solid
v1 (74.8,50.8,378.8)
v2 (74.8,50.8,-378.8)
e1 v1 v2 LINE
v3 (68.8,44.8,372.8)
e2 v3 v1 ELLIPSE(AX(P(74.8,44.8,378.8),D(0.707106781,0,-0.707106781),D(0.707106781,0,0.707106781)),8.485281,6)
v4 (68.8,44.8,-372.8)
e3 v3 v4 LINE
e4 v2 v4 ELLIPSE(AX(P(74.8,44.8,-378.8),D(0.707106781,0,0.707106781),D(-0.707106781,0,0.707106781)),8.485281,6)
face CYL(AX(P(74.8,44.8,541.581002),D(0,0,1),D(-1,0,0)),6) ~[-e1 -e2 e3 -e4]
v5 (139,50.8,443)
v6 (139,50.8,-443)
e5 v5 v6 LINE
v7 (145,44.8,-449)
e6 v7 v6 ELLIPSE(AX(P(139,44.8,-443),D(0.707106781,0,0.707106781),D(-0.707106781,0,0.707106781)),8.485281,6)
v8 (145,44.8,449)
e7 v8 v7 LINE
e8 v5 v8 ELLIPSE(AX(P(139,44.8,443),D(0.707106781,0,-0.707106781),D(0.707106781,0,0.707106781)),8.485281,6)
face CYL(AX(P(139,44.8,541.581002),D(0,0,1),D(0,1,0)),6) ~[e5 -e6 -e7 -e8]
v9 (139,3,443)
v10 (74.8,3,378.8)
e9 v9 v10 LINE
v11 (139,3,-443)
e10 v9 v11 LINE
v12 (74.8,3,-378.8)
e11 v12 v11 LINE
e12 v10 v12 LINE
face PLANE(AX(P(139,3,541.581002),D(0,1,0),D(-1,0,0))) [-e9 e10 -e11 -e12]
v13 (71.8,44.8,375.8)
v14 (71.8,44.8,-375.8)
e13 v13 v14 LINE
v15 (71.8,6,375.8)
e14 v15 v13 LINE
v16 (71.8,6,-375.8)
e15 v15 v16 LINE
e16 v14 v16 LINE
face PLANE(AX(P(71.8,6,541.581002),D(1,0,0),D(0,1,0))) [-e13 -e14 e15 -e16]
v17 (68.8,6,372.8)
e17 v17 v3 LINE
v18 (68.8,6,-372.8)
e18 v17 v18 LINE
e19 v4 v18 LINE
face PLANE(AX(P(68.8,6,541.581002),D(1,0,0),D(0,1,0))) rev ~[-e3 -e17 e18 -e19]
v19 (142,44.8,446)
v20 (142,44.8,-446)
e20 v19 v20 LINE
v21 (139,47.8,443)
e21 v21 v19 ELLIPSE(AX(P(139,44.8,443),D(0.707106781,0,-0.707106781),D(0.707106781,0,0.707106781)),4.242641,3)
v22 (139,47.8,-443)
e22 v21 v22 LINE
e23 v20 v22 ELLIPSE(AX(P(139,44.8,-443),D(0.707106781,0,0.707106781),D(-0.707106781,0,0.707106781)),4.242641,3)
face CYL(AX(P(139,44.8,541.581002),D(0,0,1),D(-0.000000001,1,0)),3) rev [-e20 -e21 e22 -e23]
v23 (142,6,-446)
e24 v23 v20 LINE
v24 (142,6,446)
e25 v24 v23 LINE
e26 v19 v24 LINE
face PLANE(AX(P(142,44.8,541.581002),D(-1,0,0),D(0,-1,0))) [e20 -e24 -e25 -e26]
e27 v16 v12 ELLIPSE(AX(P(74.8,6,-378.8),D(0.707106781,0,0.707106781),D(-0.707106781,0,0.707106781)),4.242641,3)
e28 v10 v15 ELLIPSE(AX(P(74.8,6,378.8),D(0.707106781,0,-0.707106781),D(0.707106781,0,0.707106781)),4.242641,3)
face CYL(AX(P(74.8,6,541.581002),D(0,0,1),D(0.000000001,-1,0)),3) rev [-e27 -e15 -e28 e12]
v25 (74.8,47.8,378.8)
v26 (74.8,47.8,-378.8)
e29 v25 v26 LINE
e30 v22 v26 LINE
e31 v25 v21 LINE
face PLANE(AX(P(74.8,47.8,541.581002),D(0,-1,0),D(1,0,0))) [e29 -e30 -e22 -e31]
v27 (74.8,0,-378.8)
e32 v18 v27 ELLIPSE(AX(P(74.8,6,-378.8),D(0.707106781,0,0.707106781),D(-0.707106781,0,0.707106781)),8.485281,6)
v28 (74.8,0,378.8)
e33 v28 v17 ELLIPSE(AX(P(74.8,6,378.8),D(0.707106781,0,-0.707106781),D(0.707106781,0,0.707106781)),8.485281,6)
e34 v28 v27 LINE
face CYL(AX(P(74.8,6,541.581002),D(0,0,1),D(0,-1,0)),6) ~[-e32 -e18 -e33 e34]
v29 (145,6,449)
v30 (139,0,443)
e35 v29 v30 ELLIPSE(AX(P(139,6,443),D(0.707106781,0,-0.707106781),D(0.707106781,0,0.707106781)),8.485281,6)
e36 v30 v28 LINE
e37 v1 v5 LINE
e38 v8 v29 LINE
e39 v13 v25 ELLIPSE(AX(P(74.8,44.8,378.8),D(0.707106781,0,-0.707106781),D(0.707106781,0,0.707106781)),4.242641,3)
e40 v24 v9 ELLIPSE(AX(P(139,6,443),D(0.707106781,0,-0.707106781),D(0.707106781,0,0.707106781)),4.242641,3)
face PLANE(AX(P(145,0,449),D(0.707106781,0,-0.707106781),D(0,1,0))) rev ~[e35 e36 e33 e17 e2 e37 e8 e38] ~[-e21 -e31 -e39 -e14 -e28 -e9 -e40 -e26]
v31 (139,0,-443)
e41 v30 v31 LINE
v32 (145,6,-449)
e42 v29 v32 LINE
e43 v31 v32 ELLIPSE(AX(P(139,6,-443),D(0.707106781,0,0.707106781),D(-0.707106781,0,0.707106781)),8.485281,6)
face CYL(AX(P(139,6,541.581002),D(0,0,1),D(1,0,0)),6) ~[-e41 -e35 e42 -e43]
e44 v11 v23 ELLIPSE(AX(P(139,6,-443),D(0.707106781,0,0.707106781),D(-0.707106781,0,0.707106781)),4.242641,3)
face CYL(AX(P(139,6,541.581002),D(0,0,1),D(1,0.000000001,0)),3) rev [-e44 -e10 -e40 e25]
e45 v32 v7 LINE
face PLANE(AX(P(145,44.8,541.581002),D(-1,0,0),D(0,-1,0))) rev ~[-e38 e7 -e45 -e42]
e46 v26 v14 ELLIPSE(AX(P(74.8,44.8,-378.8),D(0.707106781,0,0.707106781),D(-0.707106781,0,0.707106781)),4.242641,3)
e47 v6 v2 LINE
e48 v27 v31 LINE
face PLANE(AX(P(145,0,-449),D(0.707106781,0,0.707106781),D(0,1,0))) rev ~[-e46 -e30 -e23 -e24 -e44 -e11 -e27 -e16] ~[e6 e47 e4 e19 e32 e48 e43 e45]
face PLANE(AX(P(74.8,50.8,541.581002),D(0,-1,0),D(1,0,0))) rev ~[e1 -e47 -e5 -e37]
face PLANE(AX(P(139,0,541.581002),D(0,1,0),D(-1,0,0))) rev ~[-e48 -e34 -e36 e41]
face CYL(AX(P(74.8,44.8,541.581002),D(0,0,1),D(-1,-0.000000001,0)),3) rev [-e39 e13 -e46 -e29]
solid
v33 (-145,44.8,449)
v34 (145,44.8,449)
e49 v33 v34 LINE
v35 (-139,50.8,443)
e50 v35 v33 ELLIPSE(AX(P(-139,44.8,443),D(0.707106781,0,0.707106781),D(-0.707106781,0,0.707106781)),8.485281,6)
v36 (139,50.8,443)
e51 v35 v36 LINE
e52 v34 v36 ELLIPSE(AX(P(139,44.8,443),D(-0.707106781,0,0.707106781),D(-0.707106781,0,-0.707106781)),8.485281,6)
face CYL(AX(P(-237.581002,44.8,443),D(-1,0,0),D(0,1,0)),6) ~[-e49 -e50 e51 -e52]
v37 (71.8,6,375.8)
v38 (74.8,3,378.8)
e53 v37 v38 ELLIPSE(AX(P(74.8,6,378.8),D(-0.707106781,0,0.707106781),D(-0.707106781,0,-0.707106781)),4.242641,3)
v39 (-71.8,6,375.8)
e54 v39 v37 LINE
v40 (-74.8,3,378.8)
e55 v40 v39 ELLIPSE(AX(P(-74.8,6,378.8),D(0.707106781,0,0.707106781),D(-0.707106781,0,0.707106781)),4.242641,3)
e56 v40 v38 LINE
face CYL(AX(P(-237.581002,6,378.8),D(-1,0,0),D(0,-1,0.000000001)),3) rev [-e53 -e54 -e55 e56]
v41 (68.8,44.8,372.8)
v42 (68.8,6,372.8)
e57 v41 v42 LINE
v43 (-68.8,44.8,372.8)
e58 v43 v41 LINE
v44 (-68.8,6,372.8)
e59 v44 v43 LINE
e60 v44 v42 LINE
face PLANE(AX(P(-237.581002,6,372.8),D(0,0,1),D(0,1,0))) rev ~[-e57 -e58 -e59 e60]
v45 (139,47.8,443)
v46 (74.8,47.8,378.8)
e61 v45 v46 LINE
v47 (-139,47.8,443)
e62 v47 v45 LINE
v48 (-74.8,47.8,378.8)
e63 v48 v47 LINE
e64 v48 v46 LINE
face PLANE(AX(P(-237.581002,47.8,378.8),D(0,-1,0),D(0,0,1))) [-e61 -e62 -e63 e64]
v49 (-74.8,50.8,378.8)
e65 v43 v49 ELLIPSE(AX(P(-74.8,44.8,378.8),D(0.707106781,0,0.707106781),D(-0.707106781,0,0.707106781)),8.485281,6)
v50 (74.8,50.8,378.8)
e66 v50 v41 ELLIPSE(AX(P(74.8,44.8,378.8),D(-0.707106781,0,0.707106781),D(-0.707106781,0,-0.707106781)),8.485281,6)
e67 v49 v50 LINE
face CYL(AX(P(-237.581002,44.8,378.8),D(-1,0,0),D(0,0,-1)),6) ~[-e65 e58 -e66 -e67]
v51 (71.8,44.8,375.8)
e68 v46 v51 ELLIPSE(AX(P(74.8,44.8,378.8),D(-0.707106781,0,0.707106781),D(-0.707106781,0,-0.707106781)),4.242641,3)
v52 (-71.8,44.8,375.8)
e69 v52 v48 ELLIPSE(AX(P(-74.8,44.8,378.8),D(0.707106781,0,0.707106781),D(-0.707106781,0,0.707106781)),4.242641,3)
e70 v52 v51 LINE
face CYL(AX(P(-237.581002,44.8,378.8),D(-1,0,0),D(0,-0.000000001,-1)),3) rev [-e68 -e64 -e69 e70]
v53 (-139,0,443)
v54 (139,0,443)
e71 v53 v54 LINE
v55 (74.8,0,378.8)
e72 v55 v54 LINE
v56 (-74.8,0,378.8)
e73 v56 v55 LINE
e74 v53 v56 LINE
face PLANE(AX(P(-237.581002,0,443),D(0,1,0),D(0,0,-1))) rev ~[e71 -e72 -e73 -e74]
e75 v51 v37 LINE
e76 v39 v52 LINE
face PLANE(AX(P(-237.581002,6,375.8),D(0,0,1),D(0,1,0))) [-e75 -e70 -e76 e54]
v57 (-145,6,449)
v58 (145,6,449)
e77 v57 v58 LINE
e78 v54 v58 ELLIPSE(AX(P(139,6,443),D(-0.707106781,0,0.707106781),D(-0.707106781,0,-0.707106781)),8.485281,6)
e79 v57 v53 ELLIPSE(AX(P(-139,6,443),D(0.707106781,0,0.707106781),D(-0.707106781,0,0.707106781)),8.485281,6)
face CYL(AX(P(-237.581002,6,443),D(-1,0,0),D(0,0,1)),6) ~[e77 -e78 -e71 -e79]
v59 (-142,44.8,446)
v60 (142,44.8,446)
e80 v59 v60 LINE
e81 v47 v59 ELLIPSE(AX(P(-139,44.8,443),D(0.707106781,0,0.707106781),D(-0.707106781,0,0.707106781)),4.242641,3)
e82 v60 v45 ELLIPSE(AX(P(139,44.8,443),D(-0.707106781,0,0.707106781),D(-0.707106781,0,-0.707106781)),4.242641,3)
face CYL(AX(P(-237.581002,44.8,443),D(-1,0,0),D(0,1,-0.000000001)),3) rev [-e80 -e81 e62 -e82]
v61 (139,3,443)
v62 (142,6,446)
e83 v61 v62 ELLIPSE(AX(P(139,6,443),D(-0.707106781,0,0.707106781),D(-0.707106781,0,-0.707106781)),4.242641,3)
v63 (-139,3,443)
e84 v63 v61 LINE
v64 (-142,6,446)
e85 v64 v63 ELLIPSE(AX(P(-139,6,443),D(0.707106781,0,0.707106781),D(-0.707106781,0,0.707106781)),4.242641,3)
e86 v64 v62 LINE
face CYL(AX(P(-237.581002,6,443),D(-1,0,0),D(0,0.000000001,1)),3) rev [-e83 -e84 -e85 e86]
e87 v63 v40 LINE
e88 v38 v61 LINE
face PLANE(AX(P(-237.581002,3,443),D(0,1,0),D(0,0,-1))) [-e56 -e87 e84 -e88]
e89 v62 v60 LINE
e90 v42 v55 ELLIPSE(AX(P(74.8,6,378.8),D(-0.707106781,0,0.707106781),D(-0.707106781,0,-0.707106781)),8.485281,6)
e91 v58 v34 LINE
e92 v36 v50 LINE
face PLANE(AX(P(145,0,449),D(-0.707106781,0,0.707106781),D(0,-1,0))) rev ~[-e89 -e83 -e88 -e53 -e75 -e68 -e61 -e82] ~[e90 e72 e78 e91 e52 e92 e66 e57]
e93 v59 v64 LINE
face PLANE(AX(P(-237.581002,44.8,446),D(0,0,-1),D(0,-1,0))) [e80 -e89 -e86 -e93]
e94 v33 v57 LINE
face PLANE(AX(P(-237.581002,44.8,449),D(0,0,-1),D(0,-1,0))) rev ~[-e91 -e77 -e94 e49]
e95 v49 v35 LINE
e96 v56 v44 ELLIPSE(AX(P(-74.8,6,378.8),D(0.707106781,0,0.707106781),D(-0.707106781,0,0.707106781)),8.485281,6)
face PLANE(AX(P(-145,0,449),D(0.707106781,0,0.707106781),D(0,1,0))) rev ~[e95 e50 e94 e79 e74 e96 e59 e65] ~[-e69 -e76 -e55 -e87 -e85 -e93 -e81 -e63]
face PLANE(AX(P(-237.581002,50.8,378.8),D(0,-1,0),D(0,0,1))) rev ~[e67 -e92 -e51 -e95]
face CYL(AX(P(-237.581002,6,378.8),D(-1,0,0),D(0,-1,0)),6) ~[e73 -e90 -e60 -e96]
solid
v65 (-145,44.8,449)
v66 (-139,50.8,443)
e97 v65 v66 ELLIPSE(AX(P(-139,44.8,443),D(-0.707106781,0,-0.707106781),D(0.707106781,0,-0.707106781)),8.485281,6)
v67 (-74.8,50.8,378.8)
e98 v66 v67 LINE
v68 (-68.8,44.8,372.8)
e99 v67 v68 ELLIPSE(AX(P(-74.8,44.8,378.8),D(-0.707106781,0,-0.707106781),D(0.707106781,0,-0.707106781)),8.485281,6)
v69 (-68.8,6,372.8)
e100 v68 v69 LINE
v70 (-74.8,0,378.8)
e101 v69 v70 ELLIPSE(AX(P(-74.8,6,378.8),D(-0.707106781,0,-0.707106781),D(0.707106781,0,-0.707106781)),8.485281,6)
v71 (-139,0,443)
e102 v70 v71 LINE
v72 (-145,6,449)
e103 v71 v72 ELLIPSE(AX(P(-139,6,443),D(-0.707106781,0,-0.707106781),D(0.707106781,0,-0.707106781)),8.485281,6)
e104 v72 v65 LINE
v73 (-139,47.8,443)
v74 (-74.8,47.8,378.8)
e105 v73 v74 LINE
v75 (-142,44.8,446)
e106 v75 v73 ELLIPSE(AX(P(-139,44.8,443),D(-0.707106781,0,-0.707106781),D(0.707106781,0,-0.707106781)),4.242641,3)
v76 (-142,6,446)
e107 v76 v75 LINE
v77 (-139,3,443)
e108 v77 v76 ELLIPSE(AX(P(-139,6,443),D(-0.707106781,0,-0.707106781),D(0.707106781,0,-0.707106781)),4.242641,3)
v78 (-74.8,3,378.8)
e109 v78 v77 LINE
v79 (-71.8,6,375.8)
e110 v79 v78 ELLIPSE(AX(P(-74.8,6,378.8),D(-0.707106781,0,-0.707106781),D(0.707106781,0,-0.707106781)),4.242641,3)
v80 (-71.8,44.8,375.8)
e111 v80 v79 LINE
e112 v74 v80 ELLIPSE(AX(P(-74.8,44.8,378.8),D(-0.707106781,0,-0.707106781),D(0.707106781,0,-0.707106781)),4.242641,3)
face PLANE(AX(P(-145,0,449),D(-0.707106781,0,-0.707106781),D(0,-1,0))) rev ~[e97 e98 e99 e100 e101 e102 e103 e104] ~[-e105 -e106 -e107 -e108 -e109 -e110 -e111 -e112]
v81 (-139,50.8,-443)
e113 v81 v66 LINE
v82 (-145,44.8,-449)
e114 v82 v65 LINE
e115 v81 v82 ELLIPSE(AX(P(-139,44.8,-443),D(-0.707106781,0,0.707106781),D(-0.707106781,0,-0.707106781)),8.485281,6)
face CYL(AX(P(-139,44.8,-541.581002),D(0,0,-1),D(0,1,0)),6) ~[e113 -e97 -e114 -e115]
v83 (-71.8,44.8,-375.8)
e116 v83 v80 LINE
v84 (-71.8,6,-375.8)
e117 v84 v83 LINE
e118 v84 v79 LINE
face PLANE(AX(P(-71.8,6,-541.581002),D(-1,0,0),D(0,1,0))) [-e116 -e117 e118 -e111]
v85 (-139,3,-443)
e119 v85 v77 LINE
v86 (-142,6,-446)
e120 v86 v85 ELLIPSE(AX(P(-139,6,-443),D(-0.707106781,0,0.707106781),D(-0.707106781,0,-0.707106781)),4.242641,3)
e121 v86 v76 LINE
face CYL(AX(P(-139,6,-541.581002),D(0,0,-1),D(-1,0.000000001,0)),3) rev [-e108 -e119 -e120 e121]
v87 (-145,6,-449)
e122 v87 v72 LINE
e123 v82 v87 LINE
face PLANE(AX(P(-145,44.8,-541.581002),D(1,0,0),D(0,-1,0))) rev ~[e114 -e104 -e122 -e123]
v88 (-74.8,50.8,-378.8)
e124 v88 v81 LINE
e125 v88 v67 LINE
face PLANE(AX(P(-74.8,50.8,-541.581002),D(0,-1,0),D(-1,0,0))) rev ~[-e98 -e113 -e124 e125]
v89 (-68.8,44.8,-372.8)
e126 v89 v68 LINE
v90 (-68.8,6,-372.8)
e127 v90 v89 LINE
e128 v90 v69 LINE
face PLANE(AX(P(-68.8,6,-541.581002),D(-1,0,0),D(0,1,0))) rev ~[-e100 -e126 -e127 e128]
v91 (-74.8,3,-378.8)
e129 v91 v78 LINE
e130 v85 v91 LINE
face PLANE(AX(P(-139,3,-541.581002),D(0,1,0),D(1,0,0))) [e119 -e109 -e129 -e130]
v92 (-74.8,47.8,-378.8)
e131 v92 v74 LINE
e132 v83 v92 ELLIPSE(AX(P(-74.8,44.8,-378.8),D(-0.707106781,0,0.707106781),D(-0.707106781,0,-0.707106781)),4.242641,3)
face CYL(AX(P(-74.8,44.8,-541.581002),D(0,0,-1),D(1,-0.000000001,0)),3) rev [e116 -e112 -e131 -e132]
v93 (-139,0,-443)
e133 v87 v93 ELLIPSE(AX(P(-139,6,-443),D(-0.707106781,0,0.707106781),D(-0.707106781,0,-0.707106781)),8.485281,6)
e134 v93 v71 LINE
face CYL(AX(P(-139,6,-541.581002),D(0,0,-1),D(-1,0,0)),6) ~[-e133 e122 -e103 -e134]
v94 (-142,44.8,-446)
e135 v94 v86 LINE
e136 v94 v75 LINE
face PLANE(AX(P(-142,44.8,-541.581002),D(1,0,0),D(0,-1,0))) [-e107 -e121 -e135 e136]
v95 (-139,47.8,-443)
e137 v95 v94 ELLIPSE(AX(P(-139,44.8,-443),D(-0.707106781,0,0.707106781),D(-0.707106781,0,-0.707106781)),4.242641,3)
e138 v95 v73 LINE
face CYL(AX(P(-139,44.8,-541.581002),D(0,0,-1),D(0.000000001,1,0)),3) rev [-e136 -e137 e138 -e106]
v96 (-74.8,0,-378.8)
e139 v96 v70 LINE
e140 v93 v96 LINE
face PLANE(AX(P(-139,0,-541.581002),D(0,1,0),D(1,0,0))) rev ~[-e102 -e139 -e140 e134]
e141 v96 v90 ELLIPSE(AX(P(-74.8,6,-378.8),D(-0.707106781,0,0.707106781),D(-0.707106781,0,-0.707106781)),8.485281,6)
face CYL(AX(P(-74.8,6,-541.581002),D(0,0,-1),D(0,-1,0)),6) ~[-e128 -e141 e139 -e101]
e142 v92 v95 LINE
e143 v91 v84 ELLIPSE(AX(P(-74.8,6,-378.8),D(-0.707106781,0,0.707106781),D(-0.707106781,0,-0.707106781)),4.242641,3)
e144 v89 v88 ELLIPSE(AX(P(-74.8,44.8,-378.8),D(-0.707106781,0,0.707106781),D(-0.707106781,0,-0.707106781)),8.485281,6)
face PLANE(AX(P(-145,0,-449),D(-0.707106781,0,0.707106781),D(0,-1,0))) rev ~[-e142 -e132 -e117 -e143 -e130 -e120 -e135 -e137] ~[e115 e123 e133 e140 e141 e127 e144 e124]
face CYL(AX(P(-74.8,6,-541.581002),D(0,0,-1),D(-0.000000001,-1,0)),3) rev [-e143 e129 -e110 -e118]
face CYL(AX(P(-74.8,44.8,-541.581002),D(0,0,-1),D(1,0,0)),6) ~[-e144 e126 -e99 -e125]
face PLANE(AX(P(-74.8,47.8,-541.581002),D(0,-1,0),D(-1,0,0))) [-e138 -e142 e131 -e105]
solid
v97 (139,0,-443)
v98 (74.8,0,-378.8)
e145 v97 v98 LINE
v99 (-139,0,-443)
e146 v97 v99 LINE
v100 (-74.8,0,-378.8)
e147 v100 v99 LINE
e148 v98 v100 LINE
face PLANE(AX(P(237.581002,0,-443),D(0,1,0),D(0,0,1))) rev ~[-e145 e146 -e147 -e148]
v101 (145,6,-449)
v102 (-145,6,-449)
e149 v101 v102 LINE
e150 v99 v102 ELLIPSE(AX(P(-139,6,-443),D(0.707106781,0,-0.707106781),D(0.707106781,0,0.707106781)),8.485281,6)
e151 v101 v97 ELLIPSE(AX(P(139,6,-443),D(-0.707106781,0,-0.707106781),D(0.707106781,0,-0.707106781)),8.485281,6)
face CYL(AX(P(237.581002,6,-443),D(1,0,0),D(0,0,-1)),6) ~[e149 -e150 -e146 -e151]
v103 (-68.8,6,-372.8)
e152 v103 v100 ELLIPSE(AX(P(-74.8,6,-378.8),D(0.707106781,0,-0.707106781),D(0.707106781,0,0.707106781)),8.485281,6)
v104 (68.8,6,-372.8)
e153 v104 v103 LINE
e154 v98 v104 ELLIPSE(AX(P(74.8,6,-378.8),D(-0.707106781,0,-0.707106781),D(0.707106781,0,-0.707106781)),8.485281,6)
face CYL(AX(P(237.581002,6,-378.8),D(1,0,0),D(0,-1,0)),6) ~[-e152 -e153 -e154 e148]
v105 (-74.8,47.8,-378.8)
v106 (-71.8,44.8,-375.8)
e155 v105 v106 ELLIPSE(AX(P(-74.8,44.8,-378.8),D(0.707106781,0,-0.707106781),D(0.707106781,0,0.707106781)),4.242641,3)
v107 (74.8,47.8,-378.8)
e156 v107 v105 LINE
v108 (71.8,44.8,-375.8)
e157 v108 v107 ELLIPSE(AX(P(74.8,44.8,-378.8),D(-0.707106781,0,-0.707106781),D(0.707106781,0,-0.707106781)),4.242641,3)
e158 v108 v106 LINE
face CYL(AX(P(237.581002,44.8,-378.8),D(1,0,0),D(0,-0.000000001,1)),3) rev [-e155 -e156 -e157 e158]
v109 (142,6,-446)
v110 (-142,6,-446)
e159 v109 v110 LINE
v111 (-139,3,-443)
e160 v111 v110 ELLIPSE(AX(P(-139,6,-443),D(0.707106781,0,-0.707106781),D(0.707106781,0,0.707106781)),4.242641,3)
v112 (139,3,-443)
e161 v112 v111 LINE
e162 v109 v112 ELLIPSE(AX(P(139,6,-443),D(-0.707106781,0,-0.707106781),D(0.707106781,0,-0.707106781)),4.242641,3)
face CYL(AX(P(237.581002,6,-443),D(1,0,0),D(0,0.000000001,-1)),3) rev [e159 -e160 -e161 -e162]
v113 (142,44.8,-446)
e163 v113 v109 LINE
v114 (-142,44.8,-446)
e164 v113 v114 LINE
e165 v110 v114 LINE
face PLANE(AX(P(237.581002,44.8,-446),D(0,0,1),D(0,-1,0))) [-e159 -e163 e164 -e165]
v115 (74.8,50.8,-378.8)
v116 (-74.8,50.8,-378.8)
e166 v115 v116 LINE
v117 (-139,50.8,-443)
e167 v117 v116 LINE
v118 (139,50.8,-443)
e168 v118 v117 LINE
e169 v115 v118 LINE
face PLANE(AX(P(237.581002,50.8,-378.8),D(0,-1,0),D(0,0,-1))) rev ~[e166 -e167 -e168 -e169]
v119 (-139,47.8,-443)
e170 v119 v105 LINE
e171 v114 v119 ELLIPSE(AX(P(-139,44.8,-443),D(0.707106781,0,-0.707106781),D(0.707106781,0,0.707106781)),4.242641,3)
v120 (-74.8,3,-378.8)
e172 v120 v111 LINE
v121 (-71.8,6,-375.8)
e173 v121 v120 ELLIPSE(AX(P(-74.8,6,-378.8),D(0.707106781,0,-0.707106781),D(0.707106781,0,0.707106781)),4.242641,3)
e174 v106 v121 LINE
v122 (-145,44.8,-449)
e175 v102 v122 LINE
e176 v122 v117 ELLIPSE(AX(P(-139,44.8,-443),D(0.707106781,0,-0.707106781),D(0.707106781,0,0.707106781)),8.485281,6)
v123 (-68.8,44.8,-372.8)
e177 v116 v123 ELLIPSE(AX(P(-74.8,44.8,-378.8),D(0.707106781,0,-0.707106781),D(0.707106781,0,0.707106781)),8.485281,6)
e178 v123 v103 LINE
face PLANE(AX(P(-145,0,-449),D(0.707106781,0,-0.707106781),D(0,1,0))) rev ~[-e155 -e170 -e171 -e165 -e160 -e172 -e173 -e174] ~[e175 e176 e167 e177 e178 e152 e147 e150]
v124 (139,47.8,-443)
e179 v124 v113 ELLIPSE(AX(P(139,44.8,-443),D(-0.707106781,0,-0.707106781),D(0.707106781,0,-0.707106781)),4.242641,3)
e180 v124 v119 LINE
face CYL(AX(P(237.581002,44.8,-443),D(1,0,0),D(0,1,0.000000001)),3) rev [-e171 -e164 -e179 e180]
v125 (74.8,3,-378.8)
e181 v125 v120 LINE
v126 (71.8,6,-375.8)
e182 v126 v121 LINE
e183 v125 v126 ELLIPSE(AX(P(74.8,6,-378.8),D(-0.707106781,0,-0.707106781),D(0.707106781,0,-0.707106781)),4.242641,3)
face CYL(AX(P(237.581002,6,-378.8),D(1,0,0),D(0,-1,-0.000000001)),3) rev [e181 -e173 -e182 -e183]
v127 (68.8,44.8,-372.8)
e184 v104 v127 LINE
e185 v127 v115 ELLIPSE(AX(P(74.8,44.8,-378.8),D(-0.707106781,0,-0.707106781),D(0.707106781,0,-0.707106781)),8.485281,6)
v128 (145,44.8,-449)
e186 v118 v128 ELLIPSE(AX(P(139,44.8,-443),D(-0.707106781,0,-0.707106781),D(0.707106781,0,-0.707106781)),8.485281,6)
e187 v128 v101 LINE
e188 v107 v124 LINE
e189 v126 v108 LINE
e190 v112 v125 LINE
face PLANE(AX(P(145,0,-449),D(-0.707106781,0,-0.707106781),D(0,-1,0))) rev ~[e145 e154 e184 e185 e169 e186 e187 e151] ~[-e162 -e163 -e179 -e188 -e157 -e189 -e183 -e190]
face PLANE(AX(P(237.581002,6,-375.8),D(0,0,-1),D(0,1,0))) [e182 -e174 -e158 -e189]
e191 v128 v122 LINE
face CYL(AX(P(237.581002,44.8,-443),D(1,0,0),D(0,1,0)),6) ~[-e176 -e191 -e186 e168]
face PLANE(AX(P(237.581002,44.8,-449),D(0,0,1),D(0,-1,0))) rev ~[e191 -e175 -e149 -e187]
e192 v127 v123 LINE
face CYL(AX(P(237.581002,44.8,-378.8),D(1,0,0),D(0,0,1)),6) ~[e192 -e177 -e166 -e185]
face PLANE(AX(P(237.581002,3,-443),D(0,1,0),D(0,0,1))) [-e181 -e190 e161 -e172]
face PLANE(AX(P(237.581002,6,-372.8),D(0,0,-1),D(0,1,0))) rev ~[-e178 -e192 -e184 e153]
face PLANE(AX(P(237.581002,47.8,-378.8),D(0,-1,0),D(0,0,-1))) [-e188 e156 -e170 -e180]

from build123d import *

# Parameters (mm, degrees)
TUBO_RECTANGULAR_3_X_2_X_0_25_1_DEPTH      = 990.581002397
TUBO_RECTANGULAR_3_X_2_X_0_25_1_DEPTH_BACK = 92.581002397
TUBO_RECTANGULAR_3_X_2_X_0_25_1_2_DEPTH    = 475.162004794
TUBO_RECTANGULAR_3_X_2_X_0_25_1_3_DEPTH    = 1083.162004794
TUBO_RECTANGULAR_3_X_2_X_0_25_1_4_DEPTH    = 475.162004794


with BuildPart() as part:
    # Sketch1 → Tubo rectangular 3 X 2 X 0.25(1) (new, two sides: drawn at the far end of the back side and taken through both)
    with BuildSketch(Plane(origin=(-106.9, 25.4, -449), x_dir=(1, 0, 0), z_dir=(0, 0, 1)).offset(-TUBO_RECTANGULAR_3_X_2_X_0_25_1_DEPTH_BACK)):
        with BuildLine():
            Line((-32.1, -25.4), (32.1, -25.4))
            ThreePointArc((32.1, -25.4), (36.342640687, -23.642640687), (38.1, -19.4))
            Line((38.1, -19.4), (38.1, 19.4))
            ThreePointArc((38.1, 19.4), (36.342640687, 23.642640687), (32.1, 25.4))
            Line((32.1, 25.4), (-32.1, 25.4))
            ThreePointArc((-32.1, 25.4), (-36.342640687, 23.642640687), (-38.1, 19.4))
            Line((-38.1, 19.4), (-38.1, -19.4))
            ThreePointArc((-38.1, -19.4), (-36.342640687, -23.642640687), (-32.1, -25.4))
        make_face()
        with BuildLine():
            Line((-32.1, -22.4), (32.1, -22.4))
            ThreePointArc((32.1, -22.4), (34.221320344, -21.521320344), (35.1, -19.4))
            Line((35.1, -19.4), (35.1, 19.4))
            ThreePointArc((35.1, 19.4), (34.221320344, 21.521320344), (32.1, 22.4))
            Line((32.1, 22.4), (-32.1, 22.4))
            ThreePointArc((-32.1, 22.4), (-34.221320344, 21.521320344), (-35.1, 19.4))
            Line((-35.1, 19.4), (-35.1, -19.4))
            ThreePointArc((-35.1, -19.4), (-34.221320344, -21.521320344), (-32.1, -22.4))
        make_face(mode=Mode.SUBTRACT)
    extrude(amount=TUBO_RECTANGULAR_3_X_2_X_0_25_1_DEPTH + TUBO_RECTANGULAR_3_X_2_X_0_25_1_DEPTH_BACK)

    # Tubo rectangular 3 X 2 X 0.25(1) mitre 1
    split(bisect_by=Plane(origin=(-145, 0, -449), x_dir=(0, -1, 0), z_dir=(-0.707106781, 0, 0.707106781)), keep=Keep.TOP)

    # Tubo rectangular 3 X 2 X 0.25(1) mitre 2
    split(bisect_by=Plane(origin=(-145, 0, 449), x_dir=(0, -1, 0), z_dir=(-0.707106781, 0, -0.707106781)), keep=Keep.TOP)


with BuildPart() as body_2:
    # Sketch1 on segment 2 (carried to segment 2) → Tubo rectangular 3 X 2 X 0.25_1 2 (new body)
    with BuildSketch(Plane(origin=(-237.581002397, 25.4, 410.9), x_dir=(0, 0, -1), z_dir=(1, 0, 0))):
        with BuildLine():
            Line((-32.1, -25.4), (32.1, -25.4))
            ThreePointArc((32.1, -25.4), (36.342640687, -23.642640687), (38.1, -19.4))
            Line((38.1, -19.4), (38.1, 19.4))
            ThreePointArc((38.1, 19.4), (36.342640687, 23.642640687), (32.1, 25.4))
            Line((32.1, 25.4), (-32.1, 25.4))
            ThreePointArc((-32.1, 25.4), (-36.342640687, 23.642640687), (-38.1, 19.4))
            Line((-38.1, 19.4), (-38.1, -19.4))
            ThreePointArc((-38.1, -19.4), (-36.342640687, -23.642640687), (-32.1, -25.4))
        make_face()
        with BuildLine():
            Line((-32.1, -22.4), (32.1, -22.4))
            ThreePointArc((32.1, -22.4), (34.221320344, -21.521320344), (35.1, -19.4))
            Line((35.1, -19.4), (35.1, 19.4))
            ThreePointArc((35.1, 19.4), (34.221320344, 21.521320344), (32.1, 22.4))
            Line((32.1, 22.4), (-32.1, 22.4))
            ThreePointArc((-32.1, 22.4), (-34.221320344, 21.521320344), (-35.1, 19.4))
            Line((-35.1, 19.4), (-35.1, -19.4))
            ThreePointArc((-35.1, -19.4), (-34.221320344, -21.521320344), (-32.1, -22.4))
        make_face(mode=Mode.SUBTRACT)
    extrude(amount=TUBO_RECTANGULAR_3_X_2_X_0_25_1_2_DEPTH)

    # Tubo rectangular 3 X 2 X 0.25_1 2 mitre
    split(bisect_by=Plane(origin=(-145, 0, 449), x_dir=(0, 1, 0), z_dir=(0.707106781, 0, 0.707106781)), keep=Keep.TOP)

    # Tubo rectangular 3 X 2 X 0.25_1 2 mi 2
    split(bisect_by=Plane(origin=(145, 0, 449), x_dir=(0, -1, 0), z_dir=(-0.707106781, 0, 0.707106781)), keep=Keep.TOP)


with BuildPart() as body_3:
    # Sketch1 on segment 3 (carried to segment 3) → Tubo rectangular 3 X 2 X 0.25_1 3 (new body)
    with BuildSketch(Plane(origin=(106.9, 25.4, 541.581002397), x_dir=(-1, 0, 0), z_dir=(0, 0, -1))):
        with BuildLine():
            Line((-32.1, -25.4), (32.1, -25.4))
            ThreePointArc((32.1, -25.4), (36.342640687, -23.642640687), (38.1, -19.4))
            Line((38.1, -19.4), (38.1, 19.4))
            ThreePointArc((38.1, 19.4), (36.342640687, 23.642640687), (32.1, 25.4))
            Line((32.1, 25.4), (-32.1, 25.4))
            ThreePointArc((-32.1, 25.4), (-36.342640687, 23.642640687), (-38.1, 19.4))
            Line((-38.1, 19.4), (-38.1, -19.4))
            ThreePointArc((-38.1, -19.4), (-36.342640687, -23.642640687), (-32.1, -25.4))
        make_face()
        with BuildLine():
            Line((-32.1, -22.4), (32.1, -22.4))
            ThreePointArc((32.1, -22.4), (34.221320344, -21.521320344), (35.1, -19.4))
            Line((35.1, -19.4), (35.1, 19.4))
            ThreePointArc((35.1, 19.4), (34.221320344, 21.521320344), (32.1, 22.4))
            Line((32.1, 22.4), (-32.1, 22.4))
            ThreePointArc((-32.1, 22.4), (-34.221320344, 21.521320344), (-35.1, 19.4))
            Line((-35.1, 19.4), (-35.1, -19.4))
            ThreePointArc((-35.1, -19.4), (-34.221320344, -21.521320344), (-32.1, -22.4))
        make_face(mode=Mode.SUBTRACT)
    extrude(amount=TUBO_RECTANGULAR_3_X_2_X_0_25_1_3_DEPTH)

    # Tubo rectangular 3 X 2 X 0.25_1 3 mitre
    split(bisect_by=Plane(origin=(145, 0, -449), x_dir=(0, 1, 0), z_dir=(0.707106781, 0, 0.707106781)), keep=Keep.TOP)

    # Tubo rectangular 3 X 2 X 0.25_1 3 mi 2
    split(bisect_by=Plane(origin=(145, 0, 449), x_dir=(0, 1, 0), z_dir=(0.707106781, 0, -0.707106781)), keep=Keep.TOP)


with BuildPart() as body_4:
    # Sketch1 on segment 4 (carried to segment 4) → Tubo rectangular 3 X 2 X 0.25_1 4 (new body)
    with BuildSketch(Plane(origin=(237.581002397, 25.4, -410.9), x_dir=(0, 0, 1), z_dir=(-1, 0, 0))):
        with BuildLine():
            Line((-32.1, -25.4), (32.1, -25.4))
            ThreePointArc((32.1, -25.4), (36.342640687, -23.642640687), (38.1, -19.4))
            Line((38.1, -19.4), (38.1, 19.4))
            ThreePointArc((38.1, 19.4), (36.342640687, 23.642640687), (32.1, 25.4))
            Line((32.1, 25.4), (-32.1, 25.4))
            ThreePointArc((-32.1, 25.4), (-36.342640687, 23.642640687), (-38.1, 19.4))
            Line((-38.1, 19.4), (-38.1, -19.4))
            ThreePointArc((-38.1, -19.4), (-36.342640687, -23.642640687), (-32.1, -25.4))
        make_face()
        with BuildLine():
            Line((-32.1, -22.4), (32.1, -22.4))
            ThreePointArc((32.1, -22.4), (34.221320344, -21.521320344), (35.1, -19.4))
            Line((35.1, -19.4), (35.1, 19.4))
            ThreePointArc((35.1, 19.4), (34.221320344, 21.521320344), (32.1, 22.4))
            Line((32.1, 22.4), (-32.1, 22.4))
            ThreePointArc((-32.1, 22.4), (-34.221320344, 21.521320344), (-35.1, 19.4))
            Line((-35.1, 19.4), (-35.1, -19.4))
            ThreePointArc((-35.1, -19.4), (-34.221320344, -21.521320344), (-32.1, -22.4))
        make_face(mode=Mode.SUBTRACT)
    extrude(amount=TUBO_RECTANGULAR_3_X_2_X_0_25_1_4_DEPTH)

    # Tubo rectangular 3 X 2 X 0.25_1 4 mitre
    split(bisect_by=Plane(origin=(-145, 0, -449), x_dir=(0, 1, 0), z_dir=(0.707106781, 0, -0.707106781)), keep=Keep.TOP)

    # Tubo rectangular 3 X 2 X 0.25_1 4 mi 2
    split(bisect_by=Plane(origin=(145, 0, -449), x_dir=(0, -1, 0), z_dir=(-0.707106781, 0, -0.707106781)), keep=Keep.TOP)


solid = Compound([part.part, body_2.part, body_3.part, body_4.part])
